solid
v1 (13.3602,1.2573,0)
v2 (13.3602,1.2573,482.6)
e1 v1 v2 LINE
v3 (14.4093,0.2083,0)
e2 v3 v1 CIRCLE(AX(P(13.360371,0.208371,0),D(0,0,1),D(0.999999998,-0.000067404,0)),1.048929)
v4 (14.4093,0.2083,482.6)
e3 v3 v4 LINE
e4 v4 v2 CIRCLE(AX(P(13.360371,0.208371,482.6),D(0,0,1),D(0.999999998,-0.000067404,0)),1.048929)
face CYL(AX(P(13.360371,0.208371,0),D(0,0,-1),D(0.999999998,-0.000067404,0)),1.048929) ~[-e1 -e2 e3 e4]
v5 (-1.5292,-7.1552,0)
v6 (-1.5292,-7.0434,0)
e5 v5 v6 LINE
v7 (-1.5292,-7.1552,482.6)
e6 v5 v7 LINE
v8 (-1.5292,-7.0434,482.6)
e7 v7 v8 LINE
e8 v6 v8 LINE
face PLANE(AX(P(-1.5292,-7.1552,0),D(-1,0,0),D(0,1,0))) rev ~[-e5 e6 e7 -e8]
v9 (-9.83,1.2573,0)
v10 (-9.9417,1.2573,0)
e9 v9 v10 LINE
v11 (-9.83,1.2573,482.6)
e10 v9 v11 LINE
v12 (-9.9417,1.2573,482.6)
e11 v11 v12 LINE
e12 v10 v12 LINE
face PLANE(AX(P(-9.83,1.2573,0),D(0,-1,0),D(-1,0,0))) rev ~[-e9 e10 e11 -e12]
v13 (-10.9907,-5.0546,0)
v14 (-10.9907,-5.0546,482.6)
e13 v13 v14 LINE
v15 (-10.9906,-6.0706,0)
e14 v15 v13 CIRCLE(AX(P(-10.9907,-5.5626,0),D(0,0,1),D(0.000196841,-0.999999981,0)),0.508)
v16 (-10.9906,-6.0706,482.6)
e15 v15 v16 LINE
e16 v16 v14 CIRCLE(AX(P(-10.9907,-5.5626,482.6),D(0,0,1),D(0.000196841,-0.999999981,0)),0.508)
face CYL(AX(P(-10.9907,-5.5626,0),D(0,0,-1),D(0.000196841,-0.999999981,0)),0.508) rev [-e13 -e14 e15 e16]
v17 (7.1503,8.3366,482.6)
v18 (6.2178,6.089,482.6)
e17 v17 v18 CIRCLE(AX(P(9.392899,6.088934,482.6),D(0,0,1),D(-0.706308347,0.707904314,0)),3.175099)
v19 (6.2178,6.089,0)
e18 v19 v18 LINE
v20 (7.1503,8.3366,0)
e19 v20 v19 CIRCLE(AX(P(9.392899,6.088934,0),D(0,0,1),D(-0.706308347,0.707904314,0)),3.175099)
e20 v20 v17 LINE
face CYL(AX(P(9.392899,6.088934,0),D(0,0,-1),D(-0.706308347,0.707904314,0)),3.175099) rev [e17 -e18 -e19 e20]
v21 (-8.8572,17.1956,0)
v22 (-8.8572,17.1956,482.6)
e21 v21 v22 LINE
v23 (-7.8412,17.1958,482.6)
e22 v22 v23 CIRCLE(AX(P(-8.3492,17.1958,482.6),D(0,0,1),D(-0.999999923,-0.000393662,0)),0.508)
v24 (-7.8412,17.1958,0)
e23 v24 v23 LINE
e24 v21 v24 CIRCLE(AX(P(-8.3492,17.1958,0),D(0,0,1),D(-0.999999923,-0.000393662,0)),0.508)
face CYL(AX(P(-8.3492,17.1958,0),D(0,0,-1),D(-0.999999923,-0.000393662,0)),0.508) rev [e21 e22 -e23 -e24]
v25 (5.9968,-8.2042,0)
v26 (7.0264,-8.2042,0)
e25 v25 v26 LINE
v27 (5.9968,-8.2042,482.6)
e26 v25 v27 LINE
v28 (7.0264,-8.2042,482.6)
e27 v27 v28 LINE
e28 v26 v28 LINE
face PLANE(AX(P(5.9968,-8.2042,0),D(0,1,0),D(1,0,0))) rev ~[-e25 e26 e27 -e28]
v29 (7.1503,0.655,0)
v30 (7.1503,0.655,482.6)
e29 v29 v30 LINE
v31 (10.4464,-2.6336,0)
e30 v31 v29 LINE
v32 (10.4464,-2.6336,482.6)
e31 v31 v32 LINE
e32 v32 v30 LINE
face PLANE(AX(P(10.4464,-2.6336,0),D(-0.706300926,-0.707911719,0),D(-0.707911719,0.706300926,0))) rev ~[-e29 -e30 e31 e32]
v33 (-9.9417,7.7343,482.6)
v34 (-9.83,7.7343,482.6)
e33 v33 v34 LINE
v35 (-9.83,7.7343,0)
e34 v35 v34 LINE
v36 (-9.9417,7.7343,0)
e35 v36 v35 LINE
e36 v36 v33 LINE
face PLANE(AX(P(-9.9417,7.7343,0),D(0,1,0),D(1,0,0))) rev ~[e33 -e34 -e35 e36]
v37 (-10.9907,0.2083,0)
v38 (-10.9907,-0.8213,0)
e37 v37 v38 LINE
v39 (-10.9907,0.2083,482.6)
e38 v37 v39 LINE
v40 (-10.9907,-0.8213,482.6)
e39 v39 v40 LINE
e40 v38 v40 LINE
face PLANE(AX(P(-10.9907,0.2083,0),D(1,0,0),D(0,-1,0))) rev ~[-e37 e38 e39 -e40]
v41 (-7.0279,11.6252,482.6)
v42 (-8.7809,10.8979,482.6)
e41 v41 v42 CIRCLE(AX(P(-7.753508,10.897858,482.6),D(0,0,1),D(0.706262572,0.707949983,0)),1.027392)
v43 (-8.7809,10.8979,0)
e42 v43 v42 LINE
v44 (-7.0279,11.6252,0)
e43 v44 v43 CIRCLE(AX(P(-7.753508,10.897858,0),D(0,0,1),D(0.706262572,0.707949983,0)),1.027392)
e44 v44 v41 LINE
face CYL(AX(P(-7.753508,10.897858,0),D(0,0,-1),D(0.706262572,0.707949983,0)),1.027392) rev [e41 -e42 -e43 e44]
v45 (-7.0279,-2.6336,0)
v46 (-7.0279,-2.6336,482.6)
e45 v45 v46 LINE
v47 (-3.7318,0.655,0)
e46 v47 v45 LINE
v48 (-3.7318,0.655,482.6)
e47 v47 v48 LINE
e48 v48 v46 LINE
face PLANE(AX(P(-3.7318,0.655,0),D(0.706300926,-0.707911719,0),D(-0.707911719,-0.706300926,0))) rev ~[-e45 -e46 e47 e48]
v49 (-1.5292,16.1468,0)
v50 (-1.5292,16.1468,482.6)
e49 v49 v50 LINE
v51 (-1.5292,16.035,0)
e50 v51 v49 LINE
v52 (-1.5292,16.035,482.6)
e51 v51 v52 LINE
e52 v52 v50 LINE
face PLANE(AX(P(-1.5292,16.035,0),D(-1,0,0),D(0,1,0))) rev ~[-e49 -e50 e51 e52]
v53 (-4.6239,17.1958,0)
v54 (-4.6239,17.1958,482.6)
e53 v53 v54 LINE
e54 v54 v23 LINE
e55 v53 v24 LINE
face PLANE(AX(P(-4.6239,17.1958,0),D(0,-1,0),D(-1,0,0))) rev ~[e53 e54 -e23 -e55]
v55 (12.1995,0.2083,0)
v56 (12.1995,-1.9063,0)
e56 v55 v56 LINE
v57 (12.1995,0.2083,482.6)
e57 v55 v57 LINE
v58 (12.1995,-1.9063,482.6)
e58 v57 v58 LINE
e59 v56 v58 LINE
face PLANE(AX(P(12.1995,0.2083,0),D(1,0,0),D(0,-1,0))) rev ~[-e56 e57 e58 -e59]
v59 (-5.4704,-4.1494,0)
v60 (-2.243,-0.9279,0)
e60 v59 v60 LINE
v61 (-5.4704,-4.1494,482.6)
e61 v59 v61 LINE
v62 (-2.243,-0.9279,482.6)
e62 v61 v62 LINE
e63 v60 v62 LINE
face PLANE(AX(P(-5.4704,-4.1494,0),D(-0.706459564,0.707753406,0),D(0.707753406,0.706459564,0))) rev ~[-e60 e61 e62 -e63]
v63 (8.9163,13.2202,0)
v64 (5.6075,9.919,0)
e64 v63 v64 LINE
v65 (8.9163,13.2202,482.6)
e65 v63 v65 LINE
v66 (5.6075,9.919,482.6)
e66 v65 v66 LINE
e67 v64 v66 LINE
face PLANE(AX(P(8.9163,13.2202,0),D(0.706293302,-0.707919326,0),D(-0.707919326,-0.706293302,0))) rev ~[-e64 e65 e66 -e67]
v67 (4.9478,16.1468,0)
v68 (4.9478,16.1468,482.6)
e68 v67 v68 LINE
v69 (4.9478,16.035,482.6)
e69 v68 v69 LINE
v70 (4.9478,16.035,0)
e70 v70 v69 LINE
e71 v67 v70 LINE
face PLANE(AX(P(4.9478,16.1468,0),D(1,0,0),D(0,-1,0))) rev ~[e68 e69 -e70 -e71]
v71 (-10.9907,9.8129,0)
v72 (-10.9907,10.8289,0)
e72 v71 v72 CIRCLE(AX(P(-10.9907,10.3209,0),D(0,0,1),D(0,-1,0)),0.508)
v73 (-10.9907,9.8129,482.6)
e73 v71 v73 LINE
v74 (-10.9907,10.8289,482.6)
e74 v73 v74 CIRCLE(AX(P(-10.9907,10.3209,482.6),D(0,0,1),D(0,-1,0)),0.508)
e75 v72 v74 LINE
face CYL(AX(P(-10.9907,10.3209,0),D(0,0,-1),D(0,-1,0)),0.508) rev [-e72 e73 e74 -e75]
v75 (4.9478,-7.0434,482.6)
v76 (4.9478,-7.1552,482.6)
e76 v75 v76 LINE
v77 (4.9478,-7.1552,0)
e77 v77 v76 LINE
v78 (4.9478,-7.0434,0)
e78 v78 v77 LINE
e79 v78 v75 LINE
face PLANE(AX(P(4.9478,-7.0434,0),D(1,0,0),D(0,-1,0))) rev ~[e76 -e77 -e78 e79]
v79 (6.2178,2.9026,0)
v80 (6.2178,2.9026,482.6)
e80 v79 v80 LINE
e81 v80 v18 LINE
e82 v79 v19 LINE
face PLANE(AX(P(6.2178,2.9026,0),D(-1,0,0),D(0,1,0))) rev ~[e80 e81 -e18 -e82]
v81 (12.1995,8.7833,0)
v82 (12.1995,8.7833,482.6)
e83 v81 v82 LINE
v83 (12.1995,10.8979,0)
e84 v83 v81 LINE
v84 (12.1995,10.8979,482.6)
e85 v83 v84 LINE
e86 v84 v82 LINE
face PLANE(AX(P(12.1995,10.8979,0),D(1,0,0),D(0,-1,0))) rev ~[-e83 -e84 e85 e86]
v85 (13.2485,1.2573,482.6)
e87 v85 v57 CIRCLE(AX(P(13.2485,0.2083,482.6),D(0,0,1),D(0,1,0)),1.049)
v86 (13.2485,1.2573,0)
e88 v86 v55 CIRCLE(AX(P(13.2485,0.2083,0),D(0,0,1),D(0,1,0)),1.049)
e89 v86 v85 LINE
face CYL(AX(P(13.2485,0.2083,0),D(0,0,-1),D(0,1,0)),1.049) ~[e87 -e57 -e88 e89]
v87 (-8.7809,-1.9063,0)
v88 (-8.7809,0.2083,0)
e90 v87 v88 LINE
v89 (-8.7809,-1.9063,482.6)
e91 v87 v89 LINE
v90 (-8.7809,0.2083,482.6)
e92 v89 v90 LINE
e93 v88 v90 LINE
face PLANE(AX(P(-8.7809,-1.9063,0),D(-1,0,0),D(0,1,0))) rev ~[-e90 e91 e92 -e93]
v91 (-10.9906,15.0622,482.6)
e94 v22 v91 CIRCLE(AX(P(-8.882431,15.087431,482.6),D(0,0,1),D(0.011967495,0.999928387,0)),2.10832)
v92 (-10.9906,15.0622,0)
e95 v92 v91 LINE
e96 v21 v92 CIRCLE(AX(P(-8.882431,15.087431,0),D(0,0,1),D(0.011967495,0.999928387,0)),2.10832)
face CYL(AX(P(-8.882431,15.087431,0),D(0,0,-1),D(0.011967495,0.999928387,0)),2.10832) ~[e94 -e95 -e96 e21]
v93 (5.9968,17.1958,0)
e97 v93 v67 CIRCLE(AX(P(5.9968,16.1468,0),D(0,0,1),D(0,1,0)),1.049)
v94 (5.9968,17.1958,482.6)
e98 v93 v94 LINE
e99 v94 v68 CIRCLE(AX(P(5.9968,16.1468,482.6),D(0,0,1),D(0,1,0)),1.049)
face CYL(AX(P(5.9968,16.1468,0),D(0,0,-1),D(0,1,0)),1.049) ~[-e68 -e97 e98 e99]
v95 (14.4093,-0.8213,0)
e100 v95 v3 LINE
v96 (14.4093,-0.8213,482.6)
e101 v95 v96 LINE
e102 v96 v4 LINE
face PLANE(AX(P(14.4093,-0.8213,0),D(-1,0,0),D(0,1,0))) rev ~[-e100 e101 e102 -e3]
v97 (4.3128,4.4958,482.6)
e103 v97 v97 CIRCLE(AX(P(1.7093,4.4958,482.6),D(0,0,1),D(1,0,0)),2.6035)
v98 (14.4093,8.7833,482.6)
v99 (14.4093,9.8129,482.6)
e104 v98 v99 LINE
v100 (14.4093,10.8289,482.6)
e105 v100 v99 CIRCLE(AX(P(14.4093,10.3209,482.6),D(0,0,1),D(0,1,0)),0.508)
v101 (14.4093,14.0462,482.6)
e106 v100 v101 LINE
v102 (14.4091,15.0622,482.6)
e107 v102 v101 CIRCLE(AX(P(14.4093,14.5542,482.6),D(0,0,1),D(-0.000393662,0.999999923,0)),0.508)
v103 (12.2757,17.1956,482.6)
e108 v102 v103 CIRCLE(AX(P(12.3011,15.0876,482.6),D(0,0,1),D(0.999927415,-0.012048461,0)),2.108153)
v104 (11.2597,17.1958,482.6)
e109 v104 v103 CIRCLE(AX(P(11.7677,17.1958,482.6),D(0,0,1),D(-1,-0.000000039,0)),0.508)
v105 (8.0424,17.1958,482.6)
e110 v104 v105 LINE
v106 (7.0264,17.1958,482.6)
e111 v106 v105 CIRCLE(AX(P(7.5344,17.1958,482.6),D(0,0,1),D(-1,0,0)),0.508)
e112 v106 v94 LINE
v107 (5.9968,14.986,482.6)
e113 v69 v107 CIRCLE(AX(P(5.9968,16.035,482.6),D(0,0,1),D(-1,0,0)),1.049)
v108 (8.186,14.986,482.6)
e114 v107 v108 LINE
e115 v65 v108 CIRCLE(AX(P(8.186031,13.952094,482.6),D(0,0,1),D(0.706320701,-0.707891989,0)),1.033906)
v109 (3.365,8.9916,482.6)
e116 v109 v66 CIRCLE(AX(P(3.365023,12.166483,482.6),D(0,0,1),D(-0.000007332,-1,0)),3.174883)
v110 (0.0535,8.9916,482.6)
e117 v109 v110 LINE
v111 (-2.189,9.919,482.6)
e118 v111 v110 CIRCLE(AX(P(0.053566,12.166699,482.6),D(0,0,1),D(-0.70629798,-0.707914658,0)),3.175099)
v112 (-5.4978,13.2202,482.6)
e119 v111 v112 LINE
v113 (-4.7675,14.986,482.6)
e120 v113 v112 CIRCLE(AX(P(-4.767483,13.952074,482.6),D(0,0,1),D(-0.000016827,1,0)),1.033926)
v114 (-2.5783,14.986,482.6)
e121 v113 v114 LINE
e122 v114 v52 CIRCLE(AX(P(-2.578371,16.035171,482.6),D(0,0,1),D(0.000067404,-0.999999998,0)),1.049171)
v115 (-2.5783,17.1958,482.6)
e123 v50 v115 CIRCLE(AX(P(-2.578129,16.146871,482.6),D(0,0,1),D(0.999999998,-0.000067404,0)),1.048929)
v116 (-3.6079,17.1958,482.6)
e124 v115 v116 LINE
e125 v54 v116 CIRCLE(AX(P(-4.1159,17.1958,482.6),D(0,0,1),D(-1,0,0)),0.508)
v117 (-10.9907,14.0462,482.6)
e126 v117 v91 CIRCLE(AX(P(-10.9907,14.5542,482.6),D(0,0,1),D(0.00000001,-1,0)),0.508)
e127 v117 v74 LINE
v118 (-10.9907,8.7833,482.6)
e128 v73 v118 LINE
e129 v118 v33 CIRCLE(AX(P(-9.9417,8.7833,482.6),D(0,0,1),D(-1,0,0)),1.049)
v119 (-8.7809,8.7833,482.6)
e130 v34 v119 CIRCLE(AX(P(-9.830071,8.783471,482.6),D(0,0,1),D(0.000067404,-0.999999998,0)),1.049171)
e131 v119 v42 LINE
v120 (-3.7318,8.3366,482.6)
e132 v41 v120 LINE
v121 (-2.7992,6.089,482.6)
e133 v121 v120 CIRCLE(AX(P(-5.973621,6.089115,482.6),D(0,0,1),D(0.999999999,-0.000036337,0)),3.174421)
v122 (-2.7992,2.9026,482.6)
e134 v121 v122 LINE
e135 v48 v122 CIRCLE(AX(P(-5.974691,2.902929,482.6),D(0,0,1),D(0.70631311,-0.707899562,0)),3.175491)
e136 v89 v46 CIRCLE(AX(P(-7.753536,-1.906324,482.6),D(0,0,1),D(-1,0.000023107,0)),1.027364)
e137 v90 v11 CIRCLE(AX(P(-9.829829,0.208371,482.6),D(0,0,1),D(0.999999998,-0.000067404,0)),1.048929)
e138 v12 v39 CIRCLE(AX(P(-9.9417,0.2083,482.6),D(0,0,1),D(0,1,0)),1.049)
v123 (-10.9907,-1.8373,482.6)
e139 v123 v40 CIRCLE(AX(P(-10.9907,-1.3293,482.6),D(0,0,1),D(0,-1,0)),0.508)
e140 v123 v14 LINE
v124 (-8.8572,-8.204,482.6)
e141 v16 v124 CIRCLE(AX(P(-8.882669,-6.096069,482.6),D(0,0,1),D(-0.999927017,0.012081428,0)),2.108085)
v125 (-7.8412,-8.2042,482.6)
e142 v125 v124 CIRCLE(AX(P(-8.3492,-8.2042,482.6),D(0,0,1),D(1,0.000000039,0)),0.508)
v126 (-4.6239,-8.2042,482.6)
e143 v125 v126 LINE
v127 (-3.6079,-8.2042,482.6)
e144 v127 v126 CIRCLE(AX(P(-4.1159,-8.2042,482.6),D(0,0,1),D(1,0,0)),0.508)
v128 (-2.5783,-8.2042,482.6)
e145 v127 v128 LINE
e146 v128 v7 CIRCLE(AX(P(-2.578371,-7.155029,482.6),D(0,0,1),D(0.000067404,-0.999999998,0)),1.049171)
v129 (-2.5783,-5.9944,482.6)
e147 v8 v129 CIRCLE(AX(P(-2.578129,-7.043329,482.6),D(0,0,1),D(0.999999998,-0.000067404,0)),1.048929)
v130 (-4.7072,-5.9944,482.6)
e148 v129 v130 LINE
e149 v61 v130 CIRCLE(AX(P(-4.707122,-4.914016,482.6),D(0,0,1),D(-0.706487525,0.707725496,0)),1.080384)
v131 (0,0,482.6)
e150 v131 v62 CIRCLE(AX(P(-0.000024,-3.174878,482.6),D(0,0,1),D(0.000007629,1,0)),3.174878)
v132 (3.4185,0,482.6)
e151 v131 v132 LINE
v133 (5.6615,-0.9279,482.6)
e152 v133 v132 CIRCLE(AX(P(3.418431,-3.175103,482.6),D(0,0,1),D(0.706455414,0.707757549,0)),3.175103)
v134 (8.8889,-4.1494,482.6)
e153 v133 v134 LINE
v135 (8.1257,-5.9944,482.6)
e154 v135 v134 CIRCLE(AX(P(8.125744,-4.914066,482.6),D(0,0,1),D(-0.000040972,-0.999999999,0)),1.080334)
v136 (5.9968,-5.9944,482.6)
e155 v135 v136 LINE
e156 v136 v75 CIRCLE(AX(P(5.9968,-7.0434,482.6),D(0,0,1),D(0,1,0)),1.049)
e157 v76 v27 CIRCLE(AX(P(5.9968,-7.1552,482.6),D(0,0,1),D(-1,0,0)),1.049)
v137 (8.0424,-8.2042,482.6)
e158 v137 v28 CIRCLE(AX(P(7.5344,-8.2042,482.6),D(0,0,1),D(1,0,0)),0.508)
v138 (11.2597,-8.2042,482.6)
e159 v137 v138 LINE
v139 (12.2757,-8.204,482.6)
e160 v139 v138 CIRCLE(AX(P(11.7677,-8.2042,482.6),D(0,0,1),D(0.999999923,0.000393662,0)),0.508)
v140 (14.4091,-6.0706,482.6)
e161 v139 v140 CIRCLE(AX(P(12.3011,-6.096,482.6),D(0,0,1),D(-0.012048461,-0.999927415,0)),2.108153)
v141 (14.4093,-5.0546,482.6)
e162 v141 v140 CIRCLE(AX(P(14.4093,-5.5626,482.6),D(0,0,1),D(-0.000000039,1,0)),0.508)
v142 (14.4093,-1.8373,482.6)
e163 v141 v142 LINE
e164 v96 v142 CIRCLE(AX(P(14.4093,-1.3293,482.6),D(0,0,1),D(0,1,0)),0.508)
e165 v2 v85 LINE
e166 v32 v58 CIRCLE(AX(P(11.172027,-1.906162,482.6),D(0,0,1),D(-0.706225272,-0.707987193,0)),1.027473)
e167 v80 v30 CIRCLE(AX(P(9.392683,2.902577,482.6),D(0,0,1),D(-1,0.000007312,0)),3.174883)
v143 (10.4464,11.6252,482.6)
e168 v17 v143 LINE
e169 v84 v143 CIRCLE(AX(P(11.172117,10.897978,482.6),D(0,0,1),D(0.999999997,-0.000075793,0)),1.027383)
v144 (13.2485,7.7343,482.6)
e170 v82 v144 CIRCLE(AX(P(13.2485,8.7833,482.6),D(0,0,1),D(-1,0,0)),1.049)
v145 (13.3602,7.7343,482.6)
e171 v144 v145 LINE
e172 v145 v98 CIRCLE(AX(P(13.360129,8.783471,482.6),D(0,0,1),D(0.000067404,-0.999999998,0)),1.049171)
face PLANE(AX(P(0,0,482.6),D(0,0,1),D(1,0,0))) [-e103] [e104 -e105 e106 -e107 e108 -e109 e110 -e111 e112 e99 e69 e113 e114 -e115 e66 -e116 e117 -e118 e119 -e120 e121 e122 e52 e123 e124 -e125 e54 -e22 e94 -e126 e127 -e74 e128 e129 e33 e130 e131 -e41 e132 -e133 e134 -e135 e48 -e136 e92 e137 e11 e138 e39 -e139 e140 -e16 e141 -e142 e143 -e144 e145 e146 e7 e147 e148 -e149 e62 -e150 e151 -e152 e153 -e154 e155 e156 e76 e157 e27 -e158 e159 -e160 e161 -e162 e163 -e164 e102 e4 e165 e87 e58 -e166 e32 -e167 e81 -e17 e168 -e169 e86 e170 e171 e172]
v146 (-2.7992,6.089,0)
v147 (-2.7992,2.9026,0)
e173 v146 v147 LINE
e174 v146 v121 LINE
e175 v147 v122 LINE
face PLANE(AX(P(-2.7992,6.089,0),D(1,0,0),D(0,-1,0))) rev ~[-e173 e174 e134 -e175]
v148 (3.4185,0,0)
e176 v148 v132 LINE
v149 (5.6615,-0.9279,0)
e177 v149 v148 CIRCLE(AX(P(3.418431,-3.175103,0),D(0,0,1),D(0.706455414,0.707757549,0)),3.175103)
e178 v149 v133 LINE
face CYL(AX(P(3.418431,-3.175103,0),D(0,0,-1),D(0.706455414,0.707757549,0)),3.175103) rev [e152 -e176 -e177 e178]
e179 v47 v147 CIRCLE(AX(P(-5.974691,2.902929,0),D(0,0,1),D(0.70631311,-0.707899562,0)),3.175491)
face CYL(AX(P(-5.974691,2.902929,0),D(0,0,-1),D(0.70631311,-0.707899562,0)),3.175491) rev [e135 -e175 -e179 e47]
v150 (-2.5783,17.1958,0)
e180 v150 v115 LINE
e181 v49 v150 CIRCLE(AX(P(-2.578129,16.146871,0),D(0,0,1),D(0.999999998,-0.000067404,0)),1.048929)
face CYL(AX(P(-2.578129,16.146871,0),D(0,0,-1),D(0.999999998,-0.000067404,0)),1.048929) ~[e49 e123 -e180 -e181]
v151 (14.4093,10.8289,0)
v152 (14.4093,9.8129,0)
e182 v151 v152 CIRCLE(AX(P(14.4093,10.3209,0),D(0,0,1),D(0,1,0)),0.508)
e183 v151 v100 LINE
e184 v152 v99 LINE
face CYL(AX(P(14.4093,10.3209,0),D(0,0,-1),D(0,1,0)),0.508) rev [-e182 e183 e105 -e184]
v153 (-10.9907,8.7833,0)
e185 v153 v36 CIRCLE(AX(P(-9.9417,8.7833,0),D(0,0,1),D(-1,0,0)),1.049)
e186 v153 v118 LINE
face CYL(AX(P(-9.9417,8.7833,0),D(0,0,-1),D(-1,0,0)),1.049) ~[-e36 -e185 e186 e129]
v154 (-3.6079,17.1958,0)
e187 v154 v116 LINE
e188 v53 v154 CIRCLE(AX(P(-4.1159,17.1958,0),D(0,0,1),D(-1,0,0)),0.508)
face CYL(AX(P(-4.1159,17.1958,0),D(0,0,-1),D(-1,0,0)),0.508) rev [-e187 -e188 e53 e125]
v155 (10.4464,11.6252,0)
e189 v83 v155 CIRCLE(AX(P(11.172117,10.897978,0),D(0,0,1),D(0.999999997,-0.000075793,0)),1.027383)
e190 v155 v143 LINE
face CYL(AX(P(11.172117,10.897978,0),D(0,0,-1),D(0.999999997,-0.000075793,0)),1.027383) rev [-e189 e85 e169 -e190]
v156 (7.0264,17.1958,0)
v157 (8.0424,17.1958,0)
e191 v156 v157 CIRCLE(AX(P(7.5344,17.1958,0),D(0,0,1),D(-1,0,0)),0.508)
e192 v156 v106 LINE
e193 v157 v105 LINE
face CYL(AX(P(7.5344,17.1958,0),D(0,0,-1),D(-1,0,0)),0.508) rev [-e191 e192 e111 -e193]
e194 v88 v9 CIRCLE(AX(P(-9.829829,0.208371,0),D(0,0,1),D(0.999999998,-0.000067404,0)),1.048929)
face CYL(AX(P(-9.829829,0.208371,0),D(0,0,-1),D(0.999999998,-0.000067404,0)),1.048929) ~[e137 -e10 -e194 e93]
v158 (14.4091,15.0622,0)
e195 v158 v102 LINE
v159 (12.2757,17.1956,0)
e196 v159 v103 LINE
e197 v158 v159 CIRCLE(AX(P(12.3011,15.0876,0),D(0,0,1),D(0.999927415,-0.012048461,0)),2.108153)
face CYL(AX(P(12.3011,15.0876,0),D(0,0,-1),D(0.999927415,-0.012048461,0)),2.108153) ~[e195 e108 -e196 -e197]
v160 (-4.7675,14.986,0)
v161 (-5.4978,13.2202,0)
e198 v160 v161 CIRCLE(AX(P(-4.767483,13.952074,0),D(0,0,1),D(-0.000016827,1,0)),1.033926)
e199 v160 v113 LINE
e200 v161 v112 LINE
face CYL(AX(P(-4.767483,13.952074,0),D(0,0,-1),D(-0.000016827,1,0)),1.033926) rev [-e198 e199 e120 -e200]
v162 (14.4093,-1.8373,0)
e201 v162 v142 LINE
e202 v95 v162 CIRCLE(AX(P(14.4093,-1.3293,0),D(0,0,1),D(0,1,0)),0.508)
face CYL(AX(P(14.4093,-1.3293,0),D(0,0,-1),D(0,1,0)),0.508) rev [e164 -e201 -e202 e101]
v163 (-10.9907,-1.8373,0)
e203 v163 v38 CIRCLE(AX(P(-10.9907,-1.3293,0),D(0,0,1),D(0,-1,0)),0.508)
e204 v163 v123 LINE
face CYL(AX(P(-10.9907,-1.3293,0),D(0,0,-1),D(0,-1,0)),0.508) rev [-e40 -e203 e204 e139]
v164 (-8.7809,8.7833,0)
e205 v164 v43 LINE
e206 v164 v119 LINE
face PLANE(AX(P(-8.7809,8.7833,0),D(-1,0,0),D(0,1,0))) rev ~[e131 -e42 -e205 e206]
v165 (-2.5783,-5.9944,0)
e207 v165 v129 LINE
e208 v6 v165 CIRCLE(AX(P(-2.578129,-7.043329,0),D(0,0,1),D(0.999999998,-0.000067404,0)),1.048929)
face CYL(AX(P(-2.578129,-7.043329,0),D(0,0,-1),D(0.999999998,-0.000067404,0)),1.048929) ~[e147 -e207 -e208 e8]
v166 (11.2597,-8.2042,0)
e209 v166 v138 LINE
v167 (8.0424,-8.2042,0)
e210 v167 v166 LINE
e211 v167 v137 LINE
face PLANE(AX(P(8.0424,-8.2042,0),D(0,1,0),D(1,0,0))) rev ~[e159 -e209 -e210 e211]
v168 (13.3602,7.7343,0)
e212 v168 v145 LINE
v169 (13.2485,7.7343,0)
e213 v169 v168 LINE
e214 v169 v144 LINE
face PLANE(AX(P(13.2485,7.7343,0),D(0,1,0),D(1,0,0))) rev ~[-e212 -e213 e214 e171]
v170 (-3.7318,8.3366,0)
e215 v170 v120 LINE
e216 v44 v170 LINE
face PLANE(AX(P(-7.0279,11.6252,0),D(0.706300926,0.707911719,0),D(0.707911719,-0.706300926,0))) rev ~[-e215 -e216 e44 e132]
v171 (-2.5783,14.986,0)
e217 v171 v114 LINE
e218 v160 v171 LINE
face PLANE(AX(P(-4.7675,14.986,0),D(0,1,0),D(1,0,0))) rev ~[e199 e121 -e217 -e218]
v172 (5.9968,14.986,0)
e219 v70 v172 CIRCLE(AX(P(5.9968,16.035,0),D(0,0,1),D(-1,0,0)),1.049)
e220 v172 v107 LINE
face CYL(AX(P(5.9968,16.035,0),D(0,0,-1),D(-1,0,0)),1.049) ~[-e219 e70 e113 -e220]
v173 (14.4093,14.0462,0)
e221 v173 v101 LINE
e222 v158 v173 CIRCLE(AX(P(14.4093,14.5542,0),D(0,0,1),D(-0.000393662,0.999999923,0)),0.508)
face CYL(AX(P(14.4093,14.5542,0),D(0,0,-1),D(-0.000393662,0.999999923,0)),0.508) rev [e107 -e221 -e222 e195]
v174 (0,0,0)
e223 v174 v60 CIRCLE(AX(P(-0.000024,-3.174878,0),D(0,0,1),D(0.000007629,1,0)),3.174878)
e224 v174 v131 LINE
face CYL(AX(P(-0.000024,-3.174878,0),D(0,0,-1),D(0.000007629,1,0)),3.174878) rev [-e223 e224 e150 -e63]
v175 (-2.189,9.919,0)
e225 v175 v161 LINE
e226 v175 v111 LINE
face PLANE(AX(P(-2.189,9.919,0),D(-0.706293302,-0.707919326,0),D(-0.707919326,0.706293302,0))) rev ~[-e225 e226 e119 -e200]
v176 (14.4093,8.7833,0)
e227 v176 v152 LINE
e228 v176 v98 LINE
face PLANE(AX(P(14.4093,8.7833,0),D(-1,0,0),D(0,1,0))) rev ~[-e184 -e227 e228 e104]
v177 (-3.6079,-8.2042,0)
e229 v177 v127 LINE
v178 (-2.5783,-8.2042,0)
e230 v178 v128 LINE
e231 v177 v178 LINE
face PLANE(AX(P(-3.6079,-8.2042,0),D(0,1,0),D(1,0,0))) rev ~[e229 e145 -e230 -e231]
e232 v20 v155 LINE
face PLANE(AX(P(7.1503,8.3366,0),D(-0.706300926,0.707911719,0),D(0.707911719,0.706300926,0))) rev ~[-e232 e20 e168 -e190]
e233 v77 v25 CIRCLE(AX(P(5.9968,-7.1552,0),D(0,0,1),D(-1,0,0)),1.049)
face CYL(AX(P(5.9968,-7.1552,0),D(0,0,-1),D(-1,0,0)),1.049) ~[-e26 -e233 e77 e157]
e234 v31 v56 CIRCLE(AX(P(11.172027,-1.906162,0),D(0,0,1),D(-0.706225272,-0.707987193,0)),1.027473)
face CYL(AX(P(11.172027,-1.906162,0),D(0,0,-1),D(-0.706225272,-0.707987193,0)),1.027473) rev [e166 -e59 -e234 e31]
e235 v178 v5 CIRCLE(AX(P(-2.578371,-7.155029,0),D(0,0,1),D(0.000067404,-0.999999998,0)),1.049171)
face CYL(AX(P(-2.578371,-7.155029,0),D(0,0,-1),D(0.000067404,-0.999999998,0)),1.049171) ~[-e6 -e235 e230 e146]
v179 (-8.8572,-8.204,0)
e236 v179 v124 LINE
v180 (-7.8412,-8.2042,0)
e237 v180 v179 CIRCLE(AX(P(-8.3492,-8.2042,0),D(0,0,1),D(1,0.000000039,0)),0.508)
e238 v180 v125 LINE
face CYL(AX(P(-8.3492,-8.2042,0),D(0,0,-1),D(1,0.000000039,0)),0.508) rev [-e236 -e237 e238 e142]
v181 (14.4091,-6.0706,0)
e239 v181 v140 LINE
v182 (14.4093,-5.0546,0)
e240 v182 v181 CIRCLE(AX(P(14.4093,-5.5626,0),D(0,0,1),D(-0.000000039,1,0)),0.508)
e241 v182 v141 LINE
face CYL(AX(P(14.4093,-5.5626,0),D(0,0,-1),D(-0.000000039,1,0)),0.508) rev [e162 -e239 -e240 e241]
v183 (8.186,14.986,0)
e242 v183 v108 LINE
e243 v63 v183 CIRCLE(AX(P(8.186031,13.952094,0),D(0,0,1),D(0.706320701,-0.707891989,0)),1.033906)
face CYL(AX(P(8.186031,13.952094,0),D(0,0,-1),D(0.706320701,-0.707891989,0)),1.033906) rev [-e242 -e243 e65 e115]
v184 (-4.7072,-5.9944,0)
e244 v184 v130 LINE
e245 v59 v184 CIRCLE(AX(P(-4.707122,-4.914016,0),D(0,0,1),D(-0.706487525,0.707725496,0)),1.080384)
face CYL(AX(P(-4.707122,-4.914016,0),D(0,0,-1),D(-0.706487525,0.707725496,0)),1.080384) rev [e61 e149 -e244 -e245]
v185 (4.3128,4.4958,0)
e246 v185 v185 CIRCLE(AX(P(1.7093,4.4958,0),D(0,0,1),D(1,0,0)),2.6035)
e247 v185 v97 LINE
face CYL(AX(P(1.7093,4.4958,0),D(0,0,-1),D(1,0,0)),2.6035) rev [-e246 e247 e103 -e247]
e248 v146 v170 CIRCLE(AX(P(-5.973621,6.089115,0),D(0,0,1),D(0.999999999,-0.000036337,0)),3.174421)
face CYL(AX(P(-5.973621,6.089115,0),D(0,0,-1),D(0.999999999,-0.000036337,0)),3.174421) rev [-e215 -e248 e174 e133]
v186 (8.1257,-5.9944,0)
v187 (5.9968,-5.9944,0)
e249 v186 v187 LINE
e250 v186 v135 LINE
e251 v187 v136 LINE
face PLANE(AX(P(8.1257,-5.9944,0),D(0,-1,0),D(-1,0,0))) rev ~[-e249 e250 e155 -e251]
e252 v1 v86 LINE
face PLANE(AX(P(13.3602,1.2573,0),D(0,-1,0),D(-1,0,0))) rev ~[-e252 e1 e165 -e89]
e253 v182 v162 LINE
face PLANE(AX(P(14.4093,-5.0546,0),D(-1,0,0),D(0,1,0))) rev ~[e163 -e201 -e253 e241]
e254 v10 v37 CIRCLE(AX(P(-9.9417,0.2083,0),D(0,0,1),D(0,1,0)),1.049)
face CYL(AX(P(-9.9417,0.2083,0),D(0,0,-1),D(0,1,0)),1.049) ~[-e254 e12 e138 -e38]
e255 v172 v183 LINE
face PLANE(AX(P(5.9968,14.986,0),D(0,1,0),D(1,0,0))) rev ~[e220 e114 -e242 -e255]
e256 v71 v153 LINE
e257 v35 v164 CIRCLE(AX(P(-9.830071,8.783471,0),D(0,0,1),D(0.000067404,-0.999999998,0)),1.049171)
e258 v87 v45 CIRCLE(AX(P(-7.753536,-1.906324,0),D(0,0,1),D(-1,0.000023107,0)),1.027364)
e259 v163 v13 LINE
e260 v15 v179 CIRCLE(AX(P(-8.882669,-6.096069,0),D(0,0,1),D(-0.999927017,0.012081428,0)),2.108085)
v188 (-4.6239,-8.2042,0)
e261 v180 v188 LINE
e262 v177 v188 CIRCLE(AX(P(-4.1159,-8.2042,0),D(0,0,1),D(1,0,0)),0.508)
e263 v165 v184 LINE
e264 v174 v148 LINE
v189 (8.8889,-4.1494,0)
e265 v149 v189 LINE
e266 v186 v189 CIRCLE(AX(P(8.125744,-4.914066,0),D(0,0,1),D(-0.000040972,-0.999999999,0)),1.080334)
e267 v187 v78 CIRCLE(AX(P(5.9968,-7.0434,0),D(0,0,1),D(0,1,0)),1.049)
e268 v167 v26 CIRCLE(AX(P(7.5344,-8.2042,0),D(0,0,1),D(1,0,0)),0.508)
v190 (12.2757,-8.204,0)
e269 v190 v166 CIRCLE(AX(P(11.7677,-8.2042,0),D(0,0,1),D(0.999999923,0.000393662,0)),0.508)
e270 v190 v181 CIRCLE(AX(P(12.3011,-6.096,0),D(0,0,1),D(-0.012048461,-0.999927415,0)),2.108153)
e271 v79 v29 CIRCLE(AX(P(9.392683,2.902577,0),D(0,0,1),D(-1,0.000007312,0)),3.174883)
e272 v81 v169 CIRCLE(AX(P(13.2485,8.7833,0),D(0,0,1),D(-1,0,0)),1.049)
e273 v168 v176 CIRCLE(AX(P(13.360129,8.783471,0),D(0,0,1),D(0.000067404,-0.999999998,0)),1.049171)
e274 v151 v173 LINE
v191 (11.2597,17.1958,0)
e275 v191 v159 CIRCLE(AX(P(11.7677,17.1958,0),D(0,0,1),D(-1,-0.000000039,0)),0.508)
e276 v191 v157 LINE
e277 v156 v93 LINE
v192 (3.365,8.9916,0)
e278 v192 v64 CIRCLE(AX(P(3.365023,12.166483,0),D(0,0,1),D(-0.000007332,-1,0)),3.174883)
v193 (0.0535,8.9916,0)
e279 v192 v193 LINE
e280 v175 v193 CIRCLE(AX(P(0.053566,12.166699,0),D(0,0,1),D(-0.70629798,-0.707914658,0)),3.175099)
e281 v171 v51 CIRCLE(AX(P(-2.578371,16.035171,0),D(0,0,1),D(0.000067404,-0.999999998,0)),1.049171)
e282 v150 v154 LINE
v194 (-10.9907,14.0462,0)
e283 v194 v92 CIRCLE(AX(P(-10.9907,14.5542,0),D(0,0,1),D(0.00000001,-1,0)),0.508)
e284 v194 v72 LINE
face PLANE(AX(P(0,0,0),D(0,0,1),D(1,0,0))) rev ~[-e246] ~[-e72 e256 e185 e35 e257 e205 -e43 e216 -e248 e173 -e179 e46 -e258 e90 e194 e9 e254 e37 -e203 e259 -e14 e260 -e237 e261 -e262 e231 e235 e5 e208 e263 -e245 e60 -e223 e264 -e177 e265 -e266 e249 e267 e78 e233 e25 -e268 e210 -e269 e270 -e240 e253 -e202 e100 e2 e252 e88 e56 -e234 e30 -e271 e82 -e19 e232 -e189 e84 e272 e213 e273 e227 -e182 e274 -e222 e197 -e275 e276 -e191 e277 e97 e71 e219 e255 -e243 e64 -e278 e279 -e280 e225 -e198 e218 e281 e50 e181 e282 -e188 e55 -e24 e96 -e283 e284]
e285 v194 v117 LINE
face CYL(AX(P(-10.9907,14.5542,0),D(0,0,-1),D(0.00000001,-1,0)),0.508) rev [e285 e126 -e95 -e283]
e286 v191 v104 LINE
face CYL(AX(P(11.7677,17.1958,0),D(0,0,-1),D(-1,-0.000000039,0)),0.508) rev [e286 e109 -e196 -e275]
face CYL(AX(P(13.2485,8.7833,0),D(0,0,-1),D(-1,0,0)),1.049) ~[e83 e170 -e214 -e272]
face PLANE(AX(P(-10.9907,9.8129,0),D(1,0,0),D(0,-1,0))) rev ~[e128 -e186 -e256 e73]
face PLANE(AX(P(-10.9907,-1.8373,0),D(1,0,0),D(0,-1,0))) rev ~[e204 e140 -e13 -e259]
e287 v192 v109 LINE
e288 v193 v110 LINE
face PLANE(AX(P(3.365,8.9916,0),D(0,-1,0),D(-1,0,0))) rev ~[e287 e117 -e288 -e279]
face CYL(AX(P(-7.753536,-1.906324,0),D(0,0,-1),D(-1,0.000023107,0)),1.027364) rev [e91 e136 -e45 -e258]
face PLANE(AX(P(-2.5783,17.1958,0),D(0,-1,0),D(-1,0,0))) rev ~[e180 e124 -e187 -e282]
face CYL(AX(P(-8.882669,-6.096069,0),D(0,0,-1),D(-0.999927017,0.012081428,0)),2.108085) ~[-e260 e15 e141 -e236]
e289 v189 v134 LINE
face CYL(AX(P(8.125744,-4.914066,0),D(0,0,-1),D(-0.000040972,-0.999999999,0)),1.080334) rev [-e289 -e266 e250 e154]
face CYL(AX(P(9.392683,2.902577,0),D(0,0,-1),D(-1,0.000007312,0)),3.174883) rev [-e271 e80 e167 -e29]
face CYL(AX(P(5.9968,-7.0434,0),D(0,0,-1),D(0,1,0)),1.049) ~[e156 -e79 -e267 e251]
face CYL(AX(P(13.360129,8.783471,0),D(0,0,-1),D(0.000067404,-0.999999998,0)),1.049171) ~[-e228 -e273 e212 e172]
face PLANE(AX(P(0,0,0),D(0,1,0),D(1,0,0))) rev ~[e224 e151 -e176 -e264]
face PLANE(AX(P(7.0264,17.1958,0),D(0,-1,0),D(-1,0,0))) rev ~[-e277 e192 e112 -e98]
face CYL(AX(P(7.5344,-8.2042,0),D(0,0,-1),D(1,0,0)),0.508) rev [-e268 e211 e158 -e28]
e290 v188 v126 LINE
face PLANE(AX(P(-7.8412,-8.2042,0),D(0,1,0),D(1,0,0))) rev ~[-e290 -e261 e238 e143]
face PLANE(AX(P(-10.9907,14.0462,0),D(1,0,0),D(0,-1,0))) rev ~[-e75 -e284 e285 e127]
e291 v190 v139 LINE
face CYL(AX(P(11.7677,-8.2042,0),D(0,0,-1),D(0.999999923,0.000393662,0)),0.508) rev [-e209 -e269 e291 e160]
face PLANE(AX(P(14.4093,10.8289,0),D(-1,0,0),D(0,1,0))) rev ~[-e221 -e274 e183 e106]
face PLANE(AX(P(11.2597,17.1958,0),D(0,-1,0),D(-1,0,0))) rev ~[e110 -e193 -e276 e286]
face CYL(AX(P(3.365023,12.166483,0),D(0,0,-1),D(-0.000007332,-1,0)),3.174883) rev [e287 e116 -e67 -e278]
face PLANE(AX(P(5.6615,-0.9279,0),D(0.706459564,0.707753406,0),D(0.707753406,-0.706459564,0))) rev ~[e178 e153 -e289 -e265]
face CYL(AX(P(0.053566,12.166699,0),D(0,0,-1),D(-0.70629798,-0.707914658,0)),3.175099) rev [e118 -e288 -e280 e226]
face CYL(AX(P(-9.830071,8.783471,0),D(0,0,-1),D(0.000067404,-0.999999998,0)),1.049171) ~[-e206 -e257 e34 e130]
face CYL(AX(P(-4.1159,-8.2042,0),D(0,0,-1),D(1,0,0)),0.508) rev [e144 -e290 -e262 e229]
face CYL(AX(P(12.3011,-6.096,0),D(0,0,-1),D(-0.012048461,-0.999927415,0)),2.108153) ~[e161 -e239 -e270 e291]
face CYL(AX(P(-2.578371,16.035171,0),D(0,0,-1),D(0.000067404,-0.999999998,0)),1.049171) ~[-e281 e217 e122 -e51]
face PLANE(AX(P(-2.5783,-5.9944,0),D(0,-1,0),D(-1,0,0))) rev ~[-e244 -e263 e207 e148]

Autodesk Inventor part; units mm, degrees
ref_plane "YZ Plane" through (0, 0, 0) normal (1, 0, 0) x (0, 1, 0)
ref_plane "XZ Plane" through (0, 0, 0) normal (0, 1, 0) x (-1, 0, 0)
ref_plane "XY Plane" through (0, 0, 0) normal (0, 0, 1) x (1, 0, 0)
sketch "Sketch1" plane through (0, 0, 0) normal (0, 0, 1) x (1, 0, 0)
  arc A0 (-5.4704, -4.1494) -> (-4.7072, -5.9944) centre (-4.7072, -4.914) ccw
  line L0 (-5.4704, -4.1494) -> (-2.243, -0.9279)
  arc A1 (0, 0) -> (-2.243, -0.9279) centre (0, -3.175) ccw
  line L1 (0, 0) -> (3.4185, 0)
  arc A2 (5.6615, -0.9279) -> (3.4185, 0) centre (3.4185, -3.175) ccw
  line L2 (5.6615, -0.9279) -> (8.8889, -4.1494)
  arc A3 (8.1257, -5.9944) -> (8.8889, -4.1494) centre (8.1257, -4.914) ccw
  line L3 (8.1257, -5.9944) -> (5.9968, -5.9944)
  arc A4 (5.9968, -5.9944) -> (4.9478, -7.0434) centre (5.9968, -7.0434) ccw
  line L4 (4.9478, -7.0434) -> (4.9478, -7.1552)
  arc A5 (4.9478, -7.1552) -> (5.9968, -8.2042) centre (5.9968, -7.1552) ccw
  line L5 (5.9968, -8.2042) -> (7.0264, -8.2042)
  arc A6 (8.0424, -8.2042) -> (7.0264, -8.2042) centre (7.5344, -8.2042) ccw
  line L6 (8.0424, -8.2042) -> (11.2597, -8.2042)
  arc A7 (12.2757, -8.204) -> (11.2597, -8.2042) centre (11.7677, -8.2042) ccw
  arc A8 (12.2757, -8.204) -> (14.4091, -6.0706) centre (12.3011, -6.096) ccw
  arc A9 (14.4093, -5.0546) -> (14.4091, -6.0706) centre (14.4093, -5.5626) ccw
  line L7 (14.4093, -5.0546) -> (14.4093, -1.8373)
  arc A10 (14.4093, -0.8213) -> (14.4093, -1.8373) centre (14.4093, -1.3293) ccw
  line L8 (14.4093, -0.8213) -> (14.4093, 0.2083)
  arc A11 (14.4093, 0.2083) -> (13.3602, 1.2573) centre (13.3602, 0.2083) ccw
  line L9 (13.3602, 1.2573) -> (13.2485, 1.2573)
  arc A12 (13.2485, 1.2573) -> (12.1995, 0.2083) centre (13.2485, 0.2083) ccw
  line L10 (12.1995, 0.2083) -> (12.1995, -1.9063)
  arc A13 (10.4464, -2.6336) -> (12.1995, -1.9063) centre (11.172, -1.9063) ccw
  line L11 (10.4464, -2.6336) -> (7.1503, 0.655)
  arc A14 (6.2178, 2.9026) -> (7.1503, 0.655) centre (9.3928, 2.9026) ccw
  line L12 (6.2178, 2.9026) -> (6.2178, 6.089)
  arc A15 (7.1503, 8.3366) -> (6.2178, 6.089) centre (9.3928, 6.089) ccw
  line L13 (7.1503, 8.3366) -> (10.4464, 11.6252)
  arc A16 (12.1995, 10.8979) -> (10.4464, 11.6252) centre (11.172, 10.8979) ccw
  line L14 (12.1995, 10.8979) -> (12.1995, 8.7833)
  arc A17 (12.1995, 8.7833) -> (13.2485, 7.7343) centre (13.2485, 8.7833) ccw
  line L15 (13.2485, 7.7343) -> (13.3602, 7.7343)
  arc A18 (13.3602, 7.7343) -> (14.4093, 8.7833) centre (13.3602, 8.7833) ccw
  line L16 (14.4093, 8.7833) -> (14.4093, 9.8129)
  arc A19 (14.4093, 10.8289) -> (14.4093, 9.8129) centre (14.4093, 10.3209) ccw
  line L17 (14.4093, 10.8289) -> (14.4093, 14.0462)
  arc A20 (14.4091, 15.0622) -> (14.4093, 14.0462) centre (14.4093, 14.5542) ccw
  arc A21 (14.4091, 15.0622) -> (12.2757, 17.1956) centre (12.3011, 15.0876) ccw
  arc A22 (11.2597, 17.1958) -> (12.2757, 17.1956) centre (11.7677, 17.1958) ccw
  line L18 (11.2597, 17.1958) -> (8.0424, 17.1958)
  arc A23 (7.0264, 17.1958) -> (8.0424, 17.1958) centre (7.5344, 17.1958) ccw
  line L19 (7.0264, 17.1958) -> (5.9968, 17.1958)
  arc A24 (5.9968, 17.1958) -> (4.9478, 16.1468) centre (5.9968, 16.1468) ccw
  line L20 (4.9478, 16.1468) -> (4.9478, 16.035)
  arc A25 (4.9478, 16.035) -> (5.9968, 14.986) centre (5.9968, 16.035) ccw
  line L21 (5.9968, 14.986) -> (8.186, 14.986)
  arc A26 (8.9163, 13.2202) -> (8.186, 14.986) centre (8.186, 13.9521) ccw
  line L22 (8.9163, 13.2202) -> (5.6075, 9.919)
  arc A27 (3.365, 8.9916) -> (5.6075, 9.919) centre (3.365, 12.1666) ccw
  line L23 (3.365, 8.9916) -> (0.0535, 8.9916)
  arc A28 (-2.189, 9.919) -> (0.0535, 8.9916) centre (0.0535, 12.1666) ccw
  line L24 (-2.189, 9.919) -> (-5.4978, 13.2202)
  arc A29 (-4.7675, 14.986) -> (-5.4978, 13.2202) centre (-4.7675, 13.9521) ccw
  line L25 (-4.7675, 14.986) -> (-2.5783, 14.986)
  arc A30 (-2.5783, 14.986) -> (-1.5292, 16.035) centre (-2.5783, 16.035) ccw
  line L26 (-1.5292, 16.035) -> (-1.5292, 16.1468)
  arc A31 (-1.5292, 16.1468) -> (-2.5783, 17.1958) centre (-2.5783, 16.1468) ccw
  line L27 (-2.5783, 17.1958) -> (-3.6079, 17.1958)
  arc A32 (-4.6239, 17.1958) -> (-3.6079, 17.1958) centre (-4.1159, 17.1958) ccw
  line L28 (-4.6239, 17.1958) -> (-7.8412, 17.1958)
  arc A33 (-8.8572, 17.1956) -> (-7.8412, 17.1958) centre (-8.3492, 17.1958) ccw
  arc A34 (-8.8572, 17.1956) -> (-10.9906, 15.0622) centre (-8.8825, 15.0876) ccw
  arc A35 (-10.9907, 14.0462) -> (-10.9906, 15.0622) centre (-10.9907, 14.5542) ccw
  line L29 (-10.9907, 14.0462) -> (-10.9907, 10.8289)
  arc A36 (-10.9907, 9.8129) -> (-10.9907, 10.8289) centre (-10.9907, 10.3209) ccw
  line L30 (-10.9907, 9.8129) -> (-10.9907, 8.7833)
  arc A37 (-10.9907, 8.7833) -> (-9.9417, 7.7343) centre (-9.9417, 8.7833) ccw
  line L31 (-9.9417, 7.7343) -> (-9.83, 7.7343)
  arc A38 (-9.83, 7.7343) -> (-8.7809, 8.7833) centre (-9.83, 8.7833) ccw
  line L32 (-8.7809, 8.7833) -> (-8.7809, 10.8979)
  arc A39 (-7.0279, 11.6252) -> (-8.7809, 10.8979) centre (-7.7535, 10.8979) ccw
  line L33 (-7.0279, 11.6252) -> (-3.7318, 8.3366)
  arc A40 (-2.7992, 6.089) -> (-3.7318, 8.3366) centre (-5.9742, 6.089) ccw
  line L34 (-2.7992, 6.089) -> (-2.7992, 2.9026)
  arc A41 (-3.7318, 0.655) -> (-2.7992, 2.9026) centre (-5.9742, 2.9026) ccw
  line L35 (-3.7318, 0.655) -> (-7.0279, -2.6336)
  arc A42 (-8.7809, -1.9063) -> (-7.0279, -2.6336) centre (-7.7535, -1.9063) ccw
  line L36 (-8.7809, -1.9063) -> (-8.7809, 0.2083)
  arc A43 (-8.7809, 0.2083) -> (-9.83, 1.2573) centre (-9.83, 0.2083) ccw
  line L37 (-9.83, 1.2573) -> (-9.9417, 1.2573)
  arc A44 (-9.9417, 1.2573) -> (-10.9907, 0.2083) centre (-9.9417, 0.2083) ccw
  line L38 (-10.9907, 0.2083) -> (-10.9907, -0.8213)
  arc A45 (-10.9907, -1.8373) -> (-10.9907, -0.8213) centre (-10.9907, -1.3293) ccw
  line L39 (-10.9907, -1.8373) -> (-10.9907, -5.0546)
  arc A46 (-10.9906, -6.0706) -> (-10.9907, -5.0546) centre (-10.9907, -5.5626) ccw
  arc A47 (-10.9906, -6.0706) -> (-8.8572, -8.204) centre (-8.8825, -6.096) ccw
  arc A48 (-7.8412, -8.2042) -> (-8.8572, -8.204) centre (-8.3492, -8.2042) ccw
  line L40 (-7.8412, -8.2042) -> (-4.6239, -8.2042)
  arc A49 (-3.6079, -8.2042) -> (-4.6239, -8.2042) centre (-4.1159, -8.2042) ccw
  line L41 (-3.6079, -8.2042) -> (-2.5783, -8.2042)
  arc A50 (-2.5783, -8.2042) -> (-1.5292, -7.1552) centre (-2.5783, -7.1552) ccw
  line L42 (-1.5292, -7.1552) -> (-1.5292, -7.0434)
  arc A51 (-1.5292, -7.0434) -> (-2.5783, -5.9944) centre (-2.5783, -7.0434) ccw
  line L43 (-2.5783, -5.9944) -> (-4.7072, -5.9944)
  circle A52 centre (1.7093, 4.4958) radius 2.6035
extrude "Extrusion1" add sketch "Sketch1" along normal blind 482.6
properties part number "19 in 1x1 T slot" material "Steel, Alloy"
